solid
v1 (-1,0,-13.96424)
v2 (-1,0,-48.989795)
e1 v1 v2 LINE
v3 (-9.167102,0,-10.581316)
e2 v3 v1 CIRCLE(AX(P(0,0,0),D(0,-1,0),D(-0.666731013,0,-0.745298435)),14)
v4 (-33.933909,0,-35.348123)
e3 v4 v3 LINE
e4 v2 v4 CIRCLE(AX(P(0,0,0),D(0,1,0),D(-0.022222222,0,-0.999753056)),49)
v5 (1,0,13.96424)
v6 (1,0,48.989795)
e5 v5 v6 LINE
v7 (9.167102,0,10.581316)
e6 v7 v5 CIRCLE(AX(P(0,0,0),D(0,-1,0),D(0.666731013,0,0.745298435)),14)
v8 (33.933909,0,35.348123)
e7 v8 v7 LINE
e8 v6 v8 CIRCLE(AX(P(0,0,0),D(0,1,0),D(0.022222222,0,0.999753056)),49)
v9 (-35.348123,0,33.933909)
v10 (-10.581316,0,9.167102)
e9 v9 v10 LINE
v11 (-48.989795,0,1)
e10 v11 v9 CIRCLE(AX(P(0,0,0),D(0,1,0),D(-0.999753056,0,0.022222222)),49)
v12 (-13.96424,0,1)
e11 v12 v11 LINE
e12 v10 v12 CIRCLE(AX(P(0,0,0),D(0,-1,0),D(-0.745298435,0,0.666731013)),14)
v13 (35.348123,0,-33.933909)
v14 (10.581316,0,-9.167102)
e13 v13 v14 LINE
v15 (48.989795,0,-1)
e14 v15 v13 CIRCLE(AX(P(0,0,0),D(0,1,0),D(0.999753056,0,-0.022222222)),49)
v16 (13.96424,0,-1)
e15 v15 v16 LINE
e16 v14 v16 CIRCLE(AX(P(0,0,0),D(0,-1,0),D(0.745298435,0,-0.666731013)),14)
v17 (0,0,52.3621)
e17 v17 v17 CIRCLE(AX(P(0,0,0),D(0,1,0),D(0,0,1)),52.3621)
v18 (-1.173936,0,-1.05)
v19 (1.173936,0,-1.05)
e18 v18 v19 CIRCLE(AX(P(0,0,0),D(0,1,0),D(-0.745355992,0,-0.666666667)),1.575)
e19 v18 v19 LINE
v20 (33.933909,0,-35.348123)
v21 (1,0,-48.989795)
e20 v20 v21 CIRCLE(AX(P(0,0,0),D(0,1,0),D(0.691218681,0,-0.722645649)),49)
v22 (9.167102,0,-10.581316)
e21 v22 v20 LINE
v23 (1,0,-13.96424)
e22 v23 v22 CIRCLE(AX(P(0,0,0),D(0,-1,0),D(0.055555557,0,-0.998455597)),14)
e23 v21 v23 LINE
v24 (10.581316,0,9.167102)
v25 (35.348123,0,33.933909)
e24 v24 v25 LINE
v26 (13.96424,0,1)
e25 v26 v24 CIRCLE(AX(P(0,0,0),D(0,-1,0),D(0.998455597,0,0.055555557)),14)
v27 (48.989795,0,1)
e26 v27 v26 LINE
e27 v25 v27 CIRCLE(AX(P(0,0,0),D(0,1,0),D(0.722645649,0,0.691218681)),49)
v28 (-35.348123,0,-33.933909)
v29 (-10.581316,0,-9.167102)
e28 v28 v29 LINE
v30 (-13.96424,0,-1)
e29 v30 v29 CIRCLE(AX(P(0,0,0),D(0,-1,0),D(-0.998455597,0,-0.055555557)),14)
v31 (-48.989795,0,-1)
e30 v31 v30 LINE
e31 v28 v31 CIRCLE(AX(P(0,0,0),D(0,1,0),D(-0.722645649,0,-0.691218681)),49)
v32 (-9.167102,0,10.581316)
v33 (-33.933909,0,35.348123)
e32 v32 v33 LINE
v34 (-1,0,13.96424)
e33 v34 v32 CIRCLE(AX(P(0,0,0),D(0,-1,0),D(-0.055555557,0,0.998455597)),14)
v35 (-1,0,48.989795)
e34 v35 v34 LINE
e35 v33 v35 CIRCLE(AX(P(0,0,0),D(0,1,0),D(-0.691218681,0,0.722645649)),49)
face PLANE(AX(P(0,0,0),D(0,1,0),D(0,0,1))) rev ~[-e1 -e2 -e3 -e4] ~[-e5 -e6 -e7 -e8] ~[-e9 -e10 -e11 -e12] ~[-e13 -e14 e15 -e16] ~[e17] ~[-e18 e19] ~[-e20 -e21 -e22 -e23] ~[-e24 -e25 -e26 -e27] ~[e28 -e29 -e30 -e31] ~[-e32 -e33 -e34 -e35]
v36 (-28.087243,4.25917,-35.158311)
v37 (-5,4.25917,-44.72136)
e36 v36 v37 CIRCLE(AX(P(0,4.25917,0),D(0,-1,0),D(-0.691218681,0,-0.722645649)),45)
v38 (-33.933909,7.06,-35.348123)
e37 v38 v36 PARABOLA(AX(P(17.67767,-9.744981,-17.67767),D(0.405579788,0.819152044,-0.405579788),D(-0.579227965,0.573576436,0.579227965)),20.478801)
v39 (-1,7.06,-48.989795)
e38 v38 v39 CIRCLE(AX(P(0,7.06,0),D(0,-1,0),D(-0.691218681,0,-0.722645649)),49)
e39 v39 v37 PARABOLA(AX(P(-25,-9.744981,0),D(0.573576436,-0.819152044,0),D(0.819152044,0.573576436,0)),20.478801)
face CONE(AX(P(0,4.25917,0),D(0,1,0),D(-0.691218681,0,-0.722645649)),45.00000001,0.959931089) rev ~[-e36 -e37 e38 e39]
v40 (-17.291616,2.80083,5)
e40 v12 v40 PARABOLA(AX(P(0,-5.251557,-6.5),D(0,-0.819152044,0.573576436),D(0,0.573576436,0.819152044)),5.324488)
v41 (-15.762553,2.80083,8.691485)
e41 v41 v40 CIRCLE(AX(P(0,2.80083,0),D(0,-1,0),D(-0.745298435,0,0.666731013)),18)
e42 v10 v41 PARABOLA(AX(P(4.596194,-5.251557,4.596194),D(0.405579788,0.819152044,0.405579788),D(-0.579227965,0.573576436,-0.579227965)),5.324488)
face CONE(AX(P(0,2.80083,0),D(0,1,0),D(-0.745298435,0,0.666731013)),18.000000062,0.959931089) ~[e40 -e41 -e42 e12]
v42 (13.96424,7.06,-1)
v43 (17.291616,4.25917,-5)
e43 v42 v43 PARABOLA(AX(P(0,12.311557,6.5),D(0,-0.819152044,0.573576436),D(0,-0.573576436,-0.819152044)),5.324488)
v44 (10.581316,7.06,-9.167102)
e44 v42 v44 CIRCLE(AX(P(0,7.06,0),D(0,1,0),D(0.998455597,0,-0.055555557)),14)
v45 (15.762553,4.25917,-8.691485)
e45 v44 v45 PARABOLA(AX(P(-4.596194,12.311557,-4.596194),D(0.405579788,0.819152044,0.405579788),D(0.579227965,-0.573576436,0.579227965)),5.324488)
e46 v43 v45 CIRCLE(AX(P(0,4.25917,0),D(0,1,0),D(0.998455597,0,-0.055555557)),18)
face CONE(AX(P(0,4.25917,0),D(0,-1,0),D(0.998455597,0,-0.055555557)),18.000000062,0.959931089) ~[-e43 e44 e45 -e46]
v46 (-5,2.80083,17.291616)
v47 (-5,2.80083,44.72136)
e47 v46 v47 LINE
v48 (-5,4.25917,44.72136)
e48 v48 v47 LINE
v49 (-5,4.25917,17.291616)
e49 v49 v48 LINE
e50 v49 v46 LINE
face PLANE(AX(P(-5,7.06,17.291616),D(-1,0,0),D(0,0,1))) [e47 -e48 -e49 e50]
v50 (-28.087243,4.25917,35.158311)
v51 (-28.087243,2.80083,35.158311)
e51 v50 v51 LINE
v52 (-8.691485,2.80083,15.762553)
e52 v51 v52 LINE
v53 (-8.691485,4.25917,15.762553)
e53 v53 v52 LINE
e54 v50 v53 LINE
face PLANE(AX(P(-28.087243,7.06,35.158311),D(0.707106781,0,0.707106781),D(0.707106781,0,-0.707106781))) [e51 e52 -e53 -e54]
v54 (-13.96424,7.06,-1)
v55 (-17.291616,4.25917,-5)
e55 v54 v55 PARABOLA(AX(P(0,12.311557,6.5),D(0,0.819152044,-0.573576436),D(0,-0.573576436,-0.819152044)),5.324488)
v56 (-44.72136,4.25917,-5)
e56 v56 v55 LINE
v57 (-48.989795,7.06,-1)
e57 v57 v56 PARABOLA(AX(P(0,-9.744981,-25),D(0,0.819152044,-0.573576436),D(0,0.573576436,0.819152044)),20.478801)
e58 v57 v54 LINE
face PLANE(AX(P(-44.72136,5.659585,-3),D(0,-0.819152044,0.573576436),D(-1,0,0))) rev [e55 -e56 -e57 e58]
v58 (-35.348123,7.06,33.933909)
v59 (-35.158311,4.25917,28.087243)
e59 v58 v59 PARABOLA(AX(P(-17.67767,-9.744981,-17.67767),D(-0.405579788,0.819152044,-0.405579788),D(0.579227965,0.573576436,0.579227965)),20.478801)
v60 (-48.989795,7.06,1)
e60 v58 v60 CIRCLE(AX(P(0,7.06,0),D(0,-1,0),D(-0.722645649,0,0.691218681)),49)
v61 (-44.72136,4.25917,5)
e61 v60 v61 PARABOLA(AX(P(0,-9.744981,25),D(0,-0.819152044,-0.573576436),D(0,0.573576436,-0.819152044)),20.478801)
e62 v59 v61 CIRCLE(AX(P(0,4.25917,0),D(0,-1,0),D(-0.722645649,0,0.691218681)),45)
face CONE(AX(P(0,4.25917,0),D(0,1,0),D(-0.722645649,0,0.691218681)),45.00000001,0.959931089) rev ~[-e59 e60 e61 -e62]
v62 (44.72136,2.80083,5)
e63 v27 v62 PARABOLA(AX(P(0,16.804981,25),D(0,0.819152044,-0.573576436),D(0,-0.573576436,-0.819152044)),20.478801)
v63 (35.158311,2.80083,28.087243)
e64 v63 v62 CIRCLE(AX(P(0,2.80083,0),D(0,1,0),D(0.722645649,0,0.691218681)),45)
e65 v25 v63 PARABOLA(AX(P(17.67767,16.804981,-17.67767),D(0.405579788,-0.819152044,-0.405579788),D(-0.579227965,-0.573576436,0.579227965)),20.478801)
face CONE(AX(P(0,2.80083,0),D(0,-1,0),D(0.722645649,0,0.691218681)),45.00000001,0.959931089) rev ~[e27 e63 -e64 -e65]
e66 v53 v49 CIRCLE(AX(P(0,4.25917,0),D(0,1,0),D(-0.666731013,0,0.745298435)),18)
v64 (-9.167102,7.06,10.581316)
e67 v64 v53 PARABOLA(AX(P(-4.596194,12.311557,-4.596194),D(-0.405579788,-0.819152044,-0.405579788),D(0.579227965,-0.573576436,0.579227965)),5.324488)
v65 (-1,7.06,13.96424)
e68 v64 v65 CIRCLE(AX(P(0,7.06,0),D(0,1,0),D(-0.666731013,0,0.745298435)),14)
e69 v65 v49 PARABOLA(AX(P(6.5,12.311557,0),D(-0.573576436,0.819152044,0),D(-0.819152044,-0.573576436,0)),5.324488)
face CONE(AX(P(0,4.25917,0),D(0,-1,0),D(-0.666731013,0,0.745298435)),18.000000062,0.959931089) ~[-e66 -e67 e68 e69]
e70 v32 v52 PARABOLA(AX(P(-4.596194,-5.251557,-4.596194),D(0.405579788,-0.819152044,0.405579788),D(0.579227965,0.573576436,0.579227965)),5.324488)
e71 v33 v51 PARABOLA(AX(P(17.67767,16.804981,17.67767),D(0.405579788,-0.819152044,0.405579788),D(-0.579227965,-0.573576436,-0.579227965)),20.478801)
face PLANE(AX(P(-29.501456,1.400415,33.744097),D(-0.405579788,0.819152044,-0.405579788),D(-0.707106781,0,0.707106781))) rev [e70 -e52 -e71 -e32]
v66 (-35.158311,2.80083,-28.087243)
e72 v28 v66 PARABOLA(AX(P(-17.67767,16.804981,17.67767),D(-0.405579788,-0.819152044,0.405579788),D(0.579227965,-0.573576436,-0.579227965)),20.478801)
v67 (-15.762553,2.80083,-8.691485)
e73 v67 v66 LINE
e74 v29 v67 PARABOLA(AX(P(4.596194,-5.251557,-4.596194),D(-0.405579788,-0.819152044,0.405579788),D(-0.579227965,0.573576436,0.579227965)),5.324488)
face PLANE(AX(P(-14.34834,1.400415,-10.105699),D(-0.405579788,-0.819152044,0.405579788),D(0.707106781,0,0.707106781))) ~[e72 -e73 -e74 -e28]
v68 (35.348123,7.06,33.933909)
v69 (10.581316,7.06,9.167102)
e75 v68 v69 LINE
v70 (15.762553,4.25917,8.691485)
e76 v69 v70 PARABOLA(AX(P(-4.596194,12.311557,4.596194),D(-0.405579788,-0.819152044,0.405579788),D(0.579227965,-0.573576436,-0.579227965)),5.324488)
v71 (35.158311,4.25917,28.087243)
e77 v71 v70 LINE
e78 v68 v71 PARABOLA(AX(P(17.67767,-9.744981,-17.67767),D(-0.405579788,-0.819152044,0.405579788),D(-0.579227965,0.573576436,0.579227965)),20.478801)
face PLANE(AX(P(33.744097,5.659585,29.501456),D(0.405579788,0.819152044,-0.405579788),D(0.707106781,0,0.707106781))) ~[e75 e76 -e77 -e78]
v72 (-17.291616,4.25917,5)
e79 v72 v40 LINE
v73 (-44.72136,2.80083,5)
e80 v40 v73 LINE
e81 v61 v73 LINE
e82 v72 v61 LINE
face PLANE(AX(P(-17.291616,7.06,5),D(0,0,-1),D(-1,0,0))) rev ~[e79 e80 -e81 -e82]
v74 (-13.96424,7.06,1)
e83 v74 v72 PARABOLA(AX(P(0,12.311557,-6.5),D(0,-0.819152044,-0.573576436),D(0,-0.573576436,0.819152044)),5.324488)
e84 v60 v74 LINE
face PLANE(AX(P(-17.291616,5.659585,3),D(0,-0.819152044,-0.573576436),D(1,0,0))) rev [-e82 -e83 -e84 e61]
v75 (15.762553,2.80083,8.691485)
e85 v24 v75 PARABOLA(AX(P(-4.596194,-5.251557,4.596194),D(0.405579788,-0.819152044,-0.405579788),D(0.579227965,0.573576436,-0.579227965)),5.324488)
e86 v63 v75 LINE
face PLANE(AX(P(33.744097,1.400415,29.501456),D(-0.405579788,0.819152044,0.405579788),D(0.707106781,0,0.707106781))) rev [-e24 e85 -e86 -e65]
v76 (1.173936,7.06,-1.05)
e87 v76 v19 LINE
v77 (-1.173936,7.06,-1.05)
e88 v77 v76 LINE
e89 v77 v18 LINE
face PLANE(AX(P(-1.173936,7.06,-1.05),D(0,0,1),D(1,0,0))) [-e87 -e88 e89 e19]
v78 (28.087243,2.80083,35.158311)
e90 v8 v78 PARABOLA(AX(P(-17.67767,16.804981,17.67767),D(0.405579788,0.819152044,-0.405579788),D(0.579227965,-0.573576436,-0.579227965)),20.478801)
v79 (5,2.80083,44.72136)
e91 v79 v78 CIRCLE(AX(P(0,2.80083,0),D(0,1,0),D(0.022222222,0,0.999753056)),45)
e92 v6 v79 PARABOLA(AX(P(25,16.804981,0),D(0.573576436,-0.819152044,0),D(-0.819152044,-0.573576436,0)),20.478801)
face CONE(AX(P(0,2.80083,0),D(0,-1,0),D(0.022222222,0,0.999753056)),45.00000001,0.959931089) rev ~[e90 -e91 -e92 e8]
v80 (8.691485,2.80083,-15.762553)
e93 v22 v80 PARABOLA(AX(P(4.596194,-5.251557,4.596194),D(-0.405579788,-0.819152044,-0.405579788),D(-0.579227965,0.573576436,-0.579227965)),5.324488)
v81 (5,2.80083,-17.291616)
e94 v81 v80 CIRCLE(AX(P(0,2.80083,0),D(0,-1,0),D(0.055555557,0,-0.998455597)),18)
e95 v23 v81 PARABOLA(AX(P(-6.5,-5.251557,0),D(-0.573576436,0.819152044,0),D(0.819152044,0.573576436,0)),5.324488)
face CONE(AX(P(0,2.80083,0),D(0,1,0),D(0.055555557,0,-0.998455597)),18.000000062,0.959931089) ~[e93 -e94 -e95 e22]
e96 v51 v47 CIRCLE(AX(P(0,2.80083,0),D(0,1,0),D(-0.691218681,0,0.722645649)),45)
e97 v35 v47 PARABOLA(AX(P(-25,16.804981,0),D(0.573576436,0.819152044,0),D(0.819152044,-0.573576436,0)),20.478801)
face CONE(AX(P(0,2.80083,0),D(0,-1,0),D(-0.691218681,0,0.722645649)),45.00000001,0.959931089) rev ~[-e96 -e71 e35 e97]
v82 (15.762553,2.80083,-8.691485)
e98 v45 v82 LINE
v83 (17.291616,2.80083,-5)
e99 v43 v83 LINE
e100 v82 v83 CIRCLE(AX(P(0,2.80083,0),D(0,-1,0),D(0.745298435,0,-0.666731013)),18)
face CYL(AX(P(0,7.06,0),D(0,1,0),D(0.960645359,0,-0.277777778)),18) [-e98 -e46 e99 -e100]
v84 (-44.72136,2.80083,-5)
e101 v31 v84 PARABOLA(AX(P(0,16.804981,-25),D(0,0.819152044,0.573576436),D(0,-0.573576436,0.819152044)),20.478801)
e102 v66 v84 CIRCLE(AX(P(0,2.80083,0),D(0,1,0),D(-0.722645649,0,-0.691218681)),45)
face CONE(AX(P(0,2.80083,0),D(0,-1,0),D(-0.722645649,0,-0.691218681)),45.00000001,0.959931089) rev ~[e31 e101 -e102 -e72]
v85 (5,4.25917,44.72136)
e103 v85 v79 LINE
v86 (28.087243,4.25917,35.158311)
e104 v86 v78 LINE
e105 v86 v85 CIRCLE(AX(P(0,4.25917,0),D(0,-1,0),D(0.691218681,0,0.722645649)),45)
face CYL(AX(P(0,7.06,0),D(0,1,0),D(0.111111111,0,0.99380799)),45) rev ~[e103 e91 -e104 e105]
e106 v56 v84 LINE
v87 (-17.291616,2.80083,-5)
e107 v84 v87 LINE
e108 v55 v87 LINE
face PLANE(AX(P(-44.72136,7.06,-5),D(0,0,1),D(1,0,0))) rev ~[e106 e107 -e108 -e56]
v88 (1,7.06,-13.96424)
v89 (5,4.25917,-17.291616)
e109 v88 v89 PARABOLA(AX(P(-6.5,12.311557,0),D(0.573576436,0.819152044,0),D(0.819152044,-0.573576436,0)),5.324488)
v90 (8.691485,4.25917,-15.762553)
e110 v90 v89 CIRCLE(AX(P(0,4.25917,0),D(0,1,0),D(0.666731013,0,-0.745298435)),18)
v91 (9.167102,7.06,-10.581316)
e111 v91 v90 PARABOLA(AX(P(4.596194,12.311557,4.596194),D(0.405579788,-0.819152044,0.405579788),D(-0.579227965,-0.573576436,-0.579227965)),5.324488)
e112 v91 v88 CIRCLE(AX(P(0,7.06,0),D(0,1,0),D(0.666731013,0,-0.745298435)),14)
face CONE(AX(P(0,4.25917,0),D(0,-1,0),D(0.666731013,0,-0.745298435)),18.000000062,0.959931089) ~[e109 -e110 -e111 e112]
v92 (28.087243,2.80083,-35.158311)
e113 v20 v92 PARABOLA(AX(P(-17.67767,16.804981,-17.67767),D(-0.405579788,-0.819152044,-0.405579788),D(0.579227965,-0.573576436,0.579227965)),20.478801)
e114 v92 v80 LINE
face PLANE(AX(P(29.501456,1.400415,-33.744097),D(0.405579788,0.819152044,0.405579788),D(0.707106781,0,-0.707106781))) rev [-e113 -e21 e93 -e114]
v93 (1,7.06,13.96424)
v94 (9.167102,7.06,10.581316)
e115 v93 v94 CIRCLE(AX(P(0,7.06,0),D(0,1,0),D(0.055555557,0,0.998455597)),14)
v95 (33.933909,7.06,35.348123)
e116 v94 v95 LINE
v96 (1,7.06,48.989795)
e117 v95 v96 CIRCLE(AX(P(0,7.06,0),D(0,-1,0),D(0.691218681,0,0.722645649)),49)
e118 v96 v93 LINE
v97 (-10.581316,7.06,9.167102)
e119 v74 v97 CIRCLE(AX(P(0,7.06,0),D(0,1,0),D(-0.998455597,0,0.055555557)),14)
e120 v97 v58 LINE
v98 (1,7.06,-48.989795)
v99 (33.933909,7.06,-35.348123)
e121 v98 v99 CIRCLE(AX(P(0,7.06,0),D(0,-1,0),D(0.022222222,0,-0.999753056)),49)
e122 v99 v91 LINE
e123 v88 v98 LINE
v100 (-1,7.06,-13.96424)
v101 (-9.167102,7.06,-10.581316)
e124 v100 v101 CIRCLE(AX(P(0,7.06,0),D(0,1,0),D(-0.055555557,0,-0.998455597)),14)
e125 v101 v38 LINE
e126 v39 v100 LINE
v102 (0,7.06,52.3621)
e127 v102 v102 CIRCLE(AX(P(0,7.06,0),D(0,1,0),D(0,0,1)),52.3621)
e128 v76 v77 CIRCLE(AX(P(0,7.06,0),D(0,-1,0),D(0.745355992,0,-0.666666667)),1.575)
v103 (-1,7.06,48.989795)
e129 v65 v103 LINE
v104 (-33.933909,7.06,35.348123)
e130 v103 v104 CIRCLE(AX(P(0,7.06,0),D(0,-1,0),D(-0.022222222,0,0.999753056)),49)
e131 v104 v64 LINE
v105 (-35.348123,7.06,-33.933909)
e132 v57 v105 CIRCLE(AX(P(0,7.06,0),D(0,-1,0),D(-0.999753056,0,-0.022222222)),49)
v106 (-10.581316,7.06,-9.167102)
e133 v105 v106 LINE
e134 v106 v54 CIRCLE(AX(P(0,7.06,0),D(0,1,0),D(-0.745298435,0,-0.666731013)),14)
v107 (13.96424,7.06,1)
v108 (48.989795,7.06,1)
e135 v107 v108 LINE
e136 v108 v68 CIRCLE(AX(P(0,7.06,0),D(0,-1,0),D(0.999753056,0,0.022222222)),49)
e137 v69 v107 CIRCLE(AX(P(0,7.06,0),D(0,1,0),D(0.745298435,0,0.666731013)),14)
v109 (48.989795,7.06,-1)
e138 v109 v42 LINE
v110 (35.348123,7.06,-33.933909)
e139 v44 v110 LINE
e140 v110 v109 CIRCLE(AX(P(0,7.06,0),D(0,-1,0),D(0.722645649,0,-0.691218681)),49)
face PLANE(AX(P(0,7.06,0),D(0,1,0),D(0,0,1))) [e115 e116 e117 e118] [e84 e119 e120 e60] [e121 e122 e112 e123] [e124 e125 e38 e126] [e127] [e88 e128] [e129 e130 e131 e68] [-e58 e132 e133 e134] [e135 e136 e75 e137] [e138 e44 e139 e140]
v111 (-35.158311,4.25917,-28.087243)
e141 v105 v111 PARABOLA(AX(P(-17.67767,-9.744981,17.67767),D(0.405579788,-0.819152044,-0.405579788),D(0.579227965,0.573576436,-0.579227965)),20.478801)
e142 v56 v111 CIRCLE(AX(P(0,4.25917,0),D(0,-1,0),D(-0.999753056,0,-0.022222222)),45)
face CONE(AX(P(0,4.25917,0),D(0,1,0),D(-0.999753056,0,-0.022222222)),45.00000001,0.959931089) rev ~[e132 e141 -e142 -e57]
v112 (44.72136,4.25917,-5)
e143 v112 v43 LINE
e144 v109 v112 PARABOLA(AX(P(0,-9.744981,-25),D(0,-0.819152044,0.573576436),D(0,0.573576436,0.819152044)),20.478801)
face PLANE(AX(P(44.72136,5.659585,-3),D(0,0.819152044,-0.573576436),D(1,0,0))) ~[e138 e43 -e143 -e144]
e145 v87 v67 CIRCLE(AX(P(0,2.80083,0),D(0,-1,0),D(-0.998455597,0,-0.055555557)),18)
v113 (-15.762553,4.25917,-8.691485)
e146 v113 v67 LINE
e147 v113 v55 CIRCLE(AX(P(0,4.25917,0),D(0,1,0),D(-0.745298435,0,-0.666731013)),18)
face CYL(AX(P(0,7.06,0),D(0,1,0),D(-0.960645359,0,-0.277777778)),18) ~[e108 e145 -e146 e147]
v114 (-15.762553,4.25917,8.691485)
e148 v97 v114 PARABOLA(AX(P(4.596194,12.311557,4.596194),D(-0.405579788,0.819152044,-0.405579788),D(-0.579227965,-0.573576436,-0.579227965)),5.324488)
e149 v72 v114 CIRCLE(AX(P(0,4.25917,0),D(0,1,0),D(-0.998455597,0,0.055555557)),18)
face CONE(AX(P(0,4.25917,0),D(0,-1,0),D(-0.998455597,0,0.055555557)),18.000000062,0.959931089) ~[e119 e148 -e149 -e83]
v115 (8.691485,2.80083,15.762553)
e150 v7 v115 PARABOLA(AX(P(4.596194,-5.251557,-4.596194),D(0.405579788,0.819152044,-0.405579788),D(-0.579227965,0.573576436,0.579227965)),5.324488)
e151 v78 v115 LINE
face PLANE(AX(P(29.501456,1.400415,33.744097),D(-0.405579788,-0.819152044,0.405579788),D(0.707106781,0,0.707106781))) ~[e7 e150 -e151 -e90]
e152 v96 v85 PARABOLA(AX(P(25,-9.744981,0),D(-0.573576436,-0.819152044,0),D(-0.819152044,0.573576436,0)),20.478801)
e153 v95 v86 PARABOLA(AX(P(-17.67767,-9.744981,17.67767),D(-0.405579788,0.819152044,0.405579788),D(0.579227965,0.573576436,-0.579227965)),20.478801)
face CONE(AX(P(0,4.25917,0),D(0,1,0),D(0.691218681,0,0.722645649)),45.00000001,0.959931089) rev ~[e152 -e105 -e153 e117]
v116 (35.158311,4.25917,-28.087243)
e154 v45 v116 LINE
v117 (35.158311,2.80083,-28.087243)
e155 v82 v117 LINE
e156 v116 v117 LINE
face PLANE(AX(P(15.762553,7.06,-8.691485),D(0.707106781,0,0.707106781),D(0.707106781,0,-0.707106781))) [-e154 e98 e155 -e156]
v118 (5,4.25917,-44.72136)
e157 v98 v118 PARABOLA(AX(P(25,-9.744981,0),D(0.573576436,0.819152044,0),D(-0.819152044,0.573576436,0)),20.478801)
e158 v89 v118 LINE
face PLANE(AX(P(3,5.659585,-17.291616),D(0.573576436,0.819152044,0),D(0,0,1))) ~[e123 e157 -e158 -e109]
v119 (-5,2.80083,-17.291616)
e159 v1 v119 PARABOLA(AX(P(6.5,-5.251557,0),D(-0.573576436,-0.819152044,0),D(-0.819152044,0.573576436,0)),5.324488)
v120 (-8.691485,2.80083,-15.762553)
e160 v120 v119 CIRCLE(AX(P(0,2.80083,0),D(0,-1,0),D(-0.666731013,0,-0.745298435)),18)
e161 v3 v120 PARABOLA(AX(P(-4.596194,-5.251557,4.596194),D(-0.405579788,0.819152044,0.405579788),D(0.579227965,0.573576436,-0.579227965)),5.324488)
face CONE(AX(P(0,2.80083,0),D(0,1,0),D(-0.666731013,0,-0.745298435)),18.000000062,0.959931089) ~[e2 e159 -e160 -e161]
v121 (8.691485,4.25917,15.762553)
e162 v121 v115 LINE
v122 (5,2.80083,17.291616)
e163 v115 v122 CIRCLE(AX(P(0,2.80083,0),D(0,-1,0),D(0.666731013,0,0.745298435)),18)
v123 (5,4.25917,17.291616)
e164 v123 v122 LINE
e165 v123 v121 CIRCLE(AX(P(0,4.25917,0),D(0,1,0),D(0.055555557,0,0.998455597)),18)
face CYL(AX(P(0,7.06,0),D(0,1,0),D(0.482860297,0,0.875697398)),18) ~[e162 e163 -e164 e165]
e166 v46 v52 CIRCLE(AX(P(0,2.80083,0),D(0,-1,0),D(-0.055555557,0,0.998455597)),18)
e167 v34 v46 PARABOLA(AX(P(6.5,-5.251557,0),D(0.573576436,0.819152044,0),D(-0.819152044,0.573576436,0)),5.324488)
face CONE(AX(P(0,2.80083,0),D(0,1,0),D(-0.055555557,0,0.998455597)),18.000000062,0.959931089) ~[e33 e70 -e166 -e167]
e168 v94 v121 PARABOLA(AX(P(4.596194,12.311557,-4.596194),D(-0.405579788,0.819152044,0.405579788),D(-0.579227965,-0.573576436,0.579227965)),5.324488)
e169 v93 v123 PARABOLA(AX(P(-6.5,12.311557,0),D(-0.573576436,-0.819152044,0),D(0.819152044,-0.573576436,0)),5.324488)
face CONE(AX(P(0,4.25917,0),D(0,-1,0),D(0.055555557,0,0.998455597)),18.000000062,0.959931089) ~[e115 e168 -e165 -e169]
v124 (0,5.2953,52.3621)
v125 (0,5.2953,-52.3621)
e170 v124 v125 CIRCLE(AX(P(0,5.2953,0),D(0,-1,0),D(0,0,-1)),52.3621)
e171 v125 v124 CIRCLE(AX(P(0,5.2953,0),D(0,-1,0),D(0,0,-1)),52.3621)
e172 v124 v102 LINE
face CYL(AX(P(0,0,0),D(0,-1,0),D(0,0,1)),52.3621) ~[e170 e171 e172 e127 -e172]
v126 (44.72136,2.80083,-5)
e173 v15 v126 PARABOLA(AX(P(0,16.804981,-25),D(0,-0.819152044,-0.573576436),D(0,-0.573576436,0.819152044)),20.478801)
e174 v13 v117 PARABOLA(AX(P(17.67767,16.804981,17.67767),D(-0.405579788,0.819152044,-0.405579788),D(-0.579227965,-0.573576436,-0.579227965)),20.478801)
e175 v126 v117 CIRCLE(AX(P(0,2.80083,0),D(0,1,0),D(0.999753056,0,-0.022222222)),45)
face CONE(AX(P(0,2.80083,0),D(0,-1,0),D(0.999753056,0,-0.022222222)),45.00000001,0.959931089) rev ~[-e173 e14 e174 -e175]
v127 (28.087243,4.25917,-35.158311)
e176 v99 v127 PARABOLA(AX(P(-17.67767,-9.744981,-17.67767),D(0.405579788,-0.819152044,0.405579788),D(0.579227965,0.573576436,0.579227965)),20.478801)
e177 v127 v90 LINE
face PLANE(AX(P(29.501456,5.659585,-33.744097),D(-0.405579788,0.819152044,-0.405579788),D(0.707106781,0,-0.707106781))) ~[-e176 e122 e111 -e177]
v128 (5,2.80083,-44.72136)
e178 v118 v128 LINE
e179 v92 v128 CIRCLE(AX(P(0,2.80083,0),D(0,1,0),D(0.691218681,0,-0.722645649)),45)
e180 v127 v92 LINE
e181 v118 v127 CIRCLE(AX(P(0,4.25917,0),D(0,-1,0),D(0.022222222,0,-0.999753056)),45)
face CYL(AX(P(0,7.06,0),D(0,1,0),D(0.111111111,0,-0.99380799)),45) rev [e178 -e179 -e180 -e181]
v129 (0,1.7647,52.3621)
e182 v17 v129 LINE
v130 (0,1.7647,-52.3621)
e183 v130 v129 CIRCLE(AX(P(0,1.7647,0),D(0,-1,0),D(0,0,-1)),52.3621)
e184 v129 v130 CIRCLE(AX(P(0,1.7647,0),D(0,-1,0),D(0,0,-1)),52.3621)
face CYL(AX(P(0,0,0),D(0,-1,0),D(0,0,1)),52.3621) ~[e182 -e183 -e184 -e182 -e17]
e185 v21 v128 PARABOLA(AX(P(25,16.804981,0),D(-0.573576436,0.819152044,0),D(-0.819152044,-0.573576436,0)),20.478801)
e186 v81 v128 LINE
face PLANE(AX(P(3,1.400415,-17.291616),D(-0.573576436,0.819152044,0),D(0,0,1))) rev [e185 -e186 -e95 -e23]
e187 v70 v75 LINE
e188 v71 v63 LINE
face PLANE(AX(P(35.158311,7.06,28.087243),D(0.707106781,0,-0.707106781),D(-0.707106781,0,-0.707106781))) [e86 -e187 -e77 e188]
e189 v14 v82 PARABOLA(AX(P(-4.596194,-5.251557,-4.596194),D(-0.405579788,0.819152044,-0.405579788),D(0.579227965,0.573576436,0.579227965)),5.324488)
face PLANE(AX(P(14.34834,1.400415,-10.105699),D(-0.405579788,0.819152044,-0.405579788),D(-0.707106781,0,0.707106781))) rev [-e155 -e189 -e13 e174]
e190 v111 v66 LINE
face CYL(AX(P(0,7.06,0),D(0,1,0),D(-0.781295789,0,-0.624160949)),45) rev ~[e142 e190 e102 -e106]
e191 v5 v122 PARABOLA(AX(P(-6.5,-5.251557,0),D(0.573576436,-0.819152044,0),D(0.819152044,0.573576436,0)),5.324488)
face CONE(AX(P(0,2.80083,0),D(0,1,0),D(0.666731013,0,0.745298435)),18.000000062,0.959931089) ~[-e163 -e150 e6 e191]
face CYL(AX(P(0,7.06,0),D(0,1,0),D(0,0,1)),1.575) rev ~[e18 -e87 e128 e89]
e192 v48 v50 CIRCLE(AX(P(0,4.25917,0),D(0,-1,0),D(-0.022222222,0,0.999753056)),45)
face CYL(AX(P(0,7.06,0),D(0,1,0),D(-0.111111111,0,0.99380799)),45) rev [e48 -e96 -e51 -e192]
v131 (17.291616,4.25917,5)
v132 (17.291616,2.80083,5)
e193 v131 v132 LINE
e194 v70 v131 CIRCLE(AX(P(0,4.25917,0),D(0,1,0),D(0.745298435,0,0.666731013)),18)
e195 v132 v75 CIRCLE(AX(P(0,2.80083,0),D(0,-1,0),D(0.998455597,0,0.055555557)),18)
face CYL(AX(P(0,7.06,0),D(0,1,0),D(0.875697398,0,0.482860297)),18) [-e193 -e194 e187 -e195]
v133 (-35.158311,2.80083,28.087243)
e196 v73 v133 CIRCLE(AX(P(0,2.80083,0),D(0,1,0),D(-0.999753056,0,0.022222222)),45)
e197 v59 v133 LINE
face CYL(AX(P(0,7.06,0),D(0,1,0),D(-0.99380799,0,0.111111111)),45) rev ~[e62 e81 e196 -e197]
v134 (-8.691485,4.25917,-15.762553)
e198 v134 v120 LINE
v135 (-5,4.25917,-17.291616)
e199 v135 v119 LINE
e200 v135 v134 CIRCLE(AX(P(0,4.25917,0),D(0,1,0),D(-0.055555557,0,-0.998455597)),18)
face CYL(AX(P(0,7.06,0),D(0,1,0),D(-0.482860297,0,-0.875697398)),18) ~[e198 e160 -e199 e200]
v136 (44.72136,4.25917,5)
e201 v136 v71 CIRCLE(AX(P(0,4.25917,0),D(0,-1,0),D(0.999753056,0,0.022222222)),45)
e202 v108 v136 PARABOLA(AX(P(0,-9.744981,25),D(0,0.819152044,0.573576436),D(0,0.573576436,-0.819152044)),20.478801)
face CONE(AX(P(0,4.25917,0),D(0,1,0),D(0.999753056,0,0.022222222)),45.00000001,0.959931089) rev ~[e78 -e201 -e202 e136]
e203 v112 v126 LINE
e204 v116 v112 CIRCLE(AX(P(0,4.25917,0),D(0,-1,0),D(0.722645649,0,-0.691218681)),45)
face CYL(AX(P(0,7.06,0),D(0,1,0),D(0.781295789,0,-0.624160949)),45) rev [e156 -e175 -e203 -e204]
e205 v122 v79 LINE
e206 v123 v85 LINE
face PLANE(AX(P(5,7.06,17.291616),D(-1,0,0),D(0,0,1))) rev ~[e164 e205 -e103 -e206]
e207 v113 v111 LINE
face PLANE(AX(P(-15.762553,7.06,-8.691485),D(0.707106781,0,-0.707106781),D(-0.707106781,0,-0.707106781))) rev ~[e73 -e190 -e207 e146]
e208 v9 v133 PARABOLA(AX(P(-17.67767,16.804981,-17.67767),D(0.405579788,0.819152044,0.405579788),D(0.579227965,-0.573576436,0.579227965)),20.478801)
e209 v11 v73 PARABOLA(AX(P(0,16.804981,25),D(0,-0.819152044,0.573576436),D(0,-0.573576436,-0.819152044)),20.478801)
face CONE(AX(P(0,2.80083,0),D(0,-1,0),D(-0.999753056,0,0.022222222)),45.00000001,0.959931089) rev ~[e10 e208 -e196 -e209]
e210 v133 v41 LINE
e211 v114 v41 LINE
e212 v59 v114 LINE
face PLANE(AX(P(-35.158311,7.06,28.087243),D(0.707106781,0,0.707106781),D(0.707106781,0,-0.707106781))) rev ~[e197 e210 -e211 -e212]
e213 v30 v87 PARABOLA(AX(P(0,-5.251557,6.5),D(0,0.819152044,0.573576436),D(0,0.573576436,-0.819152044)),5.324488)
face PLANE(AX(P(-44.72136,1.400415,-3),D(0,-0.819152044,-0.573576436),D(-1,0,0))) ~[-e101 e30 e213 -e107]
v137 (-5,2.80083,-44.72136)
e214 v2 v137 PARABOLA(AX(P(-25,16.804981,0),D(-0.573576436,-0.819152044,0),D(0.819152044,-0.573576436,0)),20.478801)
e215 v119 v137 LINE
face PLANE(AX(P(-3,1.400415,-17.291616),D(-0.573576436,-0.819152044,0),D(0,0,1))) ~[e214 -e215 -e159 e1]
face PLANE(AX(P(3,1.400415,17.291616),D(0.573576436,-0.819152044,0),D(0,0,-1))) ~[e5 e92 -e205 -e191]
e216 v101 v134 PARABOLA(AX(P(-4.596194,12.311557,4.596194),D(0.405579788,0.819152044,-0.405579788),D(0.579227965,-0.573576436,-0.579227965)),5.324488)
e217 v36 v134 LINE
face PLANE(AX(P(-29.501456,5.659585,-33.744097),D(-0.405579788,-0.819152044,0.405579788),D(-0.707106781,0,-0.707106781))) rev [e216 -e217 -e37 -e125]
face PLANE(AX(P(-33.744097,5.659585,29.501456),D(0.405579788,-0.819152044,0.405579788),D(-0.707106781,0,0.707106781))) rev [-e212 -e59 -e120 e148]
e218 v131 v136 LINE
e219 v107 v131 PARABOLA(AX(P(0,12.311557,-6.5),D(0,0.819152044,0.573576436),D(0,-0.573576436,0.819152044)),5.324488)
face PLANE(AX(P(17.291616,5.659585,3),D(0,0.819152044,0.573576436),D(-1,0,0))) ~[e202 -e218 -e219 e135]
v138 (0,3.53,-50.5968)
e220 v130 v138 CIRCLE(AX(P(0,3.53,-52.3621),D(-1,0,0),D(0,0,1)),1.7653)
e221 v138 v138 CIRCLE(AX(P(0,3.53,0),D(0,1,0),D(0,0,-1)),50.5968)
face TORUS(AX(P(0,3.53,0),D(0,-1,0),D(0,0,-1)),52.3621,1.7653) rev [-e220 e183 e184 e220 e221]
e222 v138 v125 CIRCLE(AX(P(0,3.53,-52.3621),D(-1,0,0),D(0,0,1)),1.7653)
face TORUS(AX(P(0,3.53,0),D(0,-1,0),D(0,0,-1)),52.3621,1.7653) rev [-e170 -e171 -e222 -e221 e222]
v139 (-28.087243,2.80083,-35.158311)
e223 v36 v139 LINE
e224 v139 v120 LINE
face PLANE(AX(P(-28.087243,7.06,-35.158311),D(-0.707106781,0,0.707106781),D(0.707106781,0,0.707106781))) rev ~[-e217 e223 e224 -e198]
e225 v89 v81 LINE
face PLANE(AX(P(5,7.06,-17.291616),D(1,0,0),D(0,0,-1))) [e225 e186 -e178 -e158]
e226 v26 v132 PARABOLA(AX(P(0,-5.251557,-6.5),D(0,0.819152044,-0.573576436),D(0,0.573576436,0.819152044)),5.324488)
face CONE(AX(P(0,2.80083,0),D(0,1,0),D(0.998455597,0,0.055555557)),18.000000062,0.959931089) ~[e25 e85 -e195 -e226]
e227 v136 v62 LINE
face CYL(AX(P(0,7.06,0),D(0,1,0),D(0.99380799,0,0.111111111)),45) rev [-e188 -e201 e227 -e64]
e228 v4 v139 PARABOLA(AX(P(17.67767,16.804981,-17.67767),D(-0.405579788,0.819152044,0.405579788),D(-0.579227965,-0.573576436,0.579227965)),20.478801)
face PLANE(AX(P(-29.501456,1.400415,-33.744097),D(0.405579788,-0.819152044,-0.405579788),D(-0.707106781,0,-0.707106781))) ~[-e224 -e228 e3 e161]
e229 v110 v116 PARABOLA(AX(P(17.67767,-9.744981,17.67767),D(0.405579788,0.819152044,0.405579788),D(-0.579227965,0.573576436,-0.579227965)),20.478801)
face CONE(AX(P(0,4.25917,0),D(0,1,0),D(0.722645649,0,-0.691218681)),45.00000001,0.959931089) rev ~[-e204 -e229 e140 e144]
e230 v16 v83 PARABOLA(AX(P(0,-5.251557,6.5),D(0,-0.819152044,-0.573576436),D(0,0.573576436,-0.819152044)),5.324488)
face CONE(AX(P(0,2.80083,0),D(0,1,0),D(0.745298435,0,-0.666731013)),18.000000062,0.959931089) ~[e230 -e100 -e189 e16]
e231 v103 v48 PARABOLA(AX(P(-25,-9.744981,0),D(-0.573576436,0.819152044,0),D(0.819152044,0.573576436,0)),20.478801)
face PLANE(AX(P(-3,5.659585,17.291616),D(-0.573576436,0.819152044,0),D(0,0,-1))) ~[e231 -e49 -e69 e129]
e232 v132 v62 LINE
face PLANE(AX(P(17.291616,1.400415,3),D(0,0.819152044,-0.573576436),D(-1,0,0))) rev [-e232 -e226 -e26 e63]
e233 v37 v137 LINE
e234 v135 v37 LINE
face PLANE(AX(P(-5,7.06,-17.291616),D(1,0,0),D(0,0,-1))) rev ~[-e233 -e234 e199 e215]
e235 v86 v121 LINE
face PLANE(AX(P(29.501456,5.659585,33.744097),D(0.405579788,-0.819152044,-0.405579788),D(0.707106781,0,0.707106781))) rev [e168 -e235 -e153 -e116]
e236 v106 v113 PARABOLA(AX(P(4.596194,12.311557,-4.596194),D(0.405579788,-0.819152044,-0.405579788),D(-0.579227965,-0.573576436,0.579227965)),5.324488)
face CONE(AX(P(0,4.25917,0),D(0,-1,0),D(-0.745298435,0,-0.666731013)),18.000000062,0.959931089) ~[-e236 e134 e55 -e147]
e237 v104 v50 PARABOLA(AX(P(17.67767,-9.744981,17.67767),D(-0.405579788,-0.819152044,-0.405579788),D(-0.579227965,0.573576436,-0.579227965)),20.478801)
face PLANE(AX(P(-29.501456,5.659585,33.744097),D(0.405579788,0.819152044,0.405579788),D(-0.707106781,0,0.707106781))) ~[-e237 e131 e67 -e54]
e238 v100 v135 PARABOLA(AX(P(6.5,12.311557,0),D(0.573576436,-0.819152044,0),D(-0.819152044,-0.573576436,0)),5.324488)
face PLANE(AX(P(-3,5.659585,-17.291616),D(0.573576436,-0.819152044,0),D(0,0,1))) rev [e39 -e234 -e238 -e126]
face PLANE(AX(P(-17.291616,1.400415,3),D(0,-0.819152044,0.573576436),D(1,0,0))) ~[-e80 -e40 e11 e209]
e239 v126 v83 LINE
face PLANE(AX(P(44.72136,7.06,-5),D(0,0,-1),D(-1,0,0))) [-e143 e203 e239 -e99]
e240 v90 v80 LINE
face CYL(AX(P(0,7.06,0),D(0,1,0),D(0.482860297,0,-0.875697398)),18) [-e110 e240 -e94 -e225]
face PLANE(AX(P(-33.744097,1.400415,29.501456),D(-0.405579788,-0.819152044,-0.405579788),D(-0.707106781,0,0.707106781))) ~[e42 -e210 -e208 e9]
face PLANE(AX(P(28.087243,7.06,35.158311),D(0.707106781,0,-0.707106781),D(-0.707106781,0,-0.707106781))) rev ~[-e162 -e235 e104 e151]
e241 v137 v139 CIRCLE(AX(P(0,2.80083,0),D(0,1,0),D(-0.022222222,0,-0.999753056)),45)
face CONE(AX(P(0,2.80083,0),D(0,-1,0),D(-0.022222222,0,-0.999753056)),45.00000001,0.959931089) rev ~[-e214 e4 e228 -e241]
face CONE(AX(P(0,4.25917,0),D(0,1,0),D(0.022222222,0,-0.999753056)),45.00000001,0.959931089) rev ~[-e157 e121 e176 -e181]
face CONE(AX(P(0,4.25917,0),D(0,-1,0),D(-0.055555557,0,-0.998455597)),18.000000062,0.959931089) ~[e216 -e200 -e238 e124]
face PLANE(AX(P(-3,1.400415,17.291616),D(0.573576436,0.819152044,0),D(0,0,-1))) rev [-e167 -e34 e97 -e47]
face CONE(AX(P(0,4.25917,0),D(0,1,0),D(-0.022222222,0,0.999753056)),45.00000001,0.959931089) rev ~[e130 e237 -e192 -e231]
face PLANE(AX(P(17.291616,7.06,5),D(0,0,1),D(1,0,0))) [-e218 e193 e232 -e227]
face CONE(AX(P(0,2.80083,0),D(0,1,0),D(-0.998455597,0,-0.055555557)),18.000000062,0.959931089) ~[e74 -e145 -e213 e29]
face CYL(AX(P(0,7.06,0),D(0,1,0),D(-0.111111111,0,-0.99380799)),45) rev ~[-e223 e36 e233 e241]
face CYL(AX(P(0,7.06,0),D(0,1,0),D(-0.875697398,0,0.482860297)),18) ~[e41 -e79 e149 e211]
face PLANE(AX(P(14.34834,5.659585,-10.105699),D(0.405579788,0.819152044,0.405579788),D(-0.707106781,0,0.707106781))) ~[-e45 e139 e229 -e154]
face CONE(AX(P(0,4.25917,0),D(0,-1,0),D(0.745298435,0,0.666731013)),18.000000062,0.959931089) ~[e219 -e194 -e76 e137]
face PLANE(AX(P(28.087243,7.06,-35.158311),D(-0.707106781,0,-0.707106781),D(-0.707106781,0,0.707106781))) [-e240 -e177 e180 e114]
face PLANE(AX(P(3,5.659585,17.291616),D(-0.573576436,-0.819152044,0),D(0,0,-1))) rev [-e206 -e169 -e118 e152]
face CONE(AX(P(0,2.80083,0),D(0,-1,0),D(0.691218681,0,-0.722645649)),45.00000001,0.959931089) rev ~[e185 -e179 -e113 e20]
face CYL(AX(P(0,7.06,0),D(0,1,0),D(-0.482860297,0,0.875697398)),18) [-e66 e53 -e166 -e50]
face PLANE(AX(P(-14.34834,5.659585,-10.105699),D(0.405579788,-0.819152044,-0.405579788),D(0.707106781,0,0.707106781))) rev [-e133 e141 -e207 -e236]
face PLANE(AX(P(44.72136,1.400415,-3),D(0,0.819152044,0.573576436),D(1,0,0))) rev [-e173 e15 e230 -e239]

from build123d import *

# Parameters (mm, degrees)
SKETCH1_R           = 52.3621
BOSS_EXTRUDE1_DEPTH = 7.06
SKETCH4_R           = 1.7653
SKETCH6_R           = 1.575
CUT_EXTRUDE1_DEPTH  = 7.06
BOSS_EXTRUDE2_DEPTH = 7.06
CUT_EXTRUDE3_DEPTH  = 7.06
CHAMFER17_SIZE      = 4
CHAMFER17_SIZE2     = 2.800830153
CHAMFER18_SIZE      = 4
CHAMFER18_SIZE2     = 2.800830153
CHAMFER19_SIZE      = 4
CHAMFER19_SIZE2     = 2.800830153
CHAMFER20_SIZE      = 4
CHAMFER20_SIZE2     = 2.800830153
CHAMFER21_SIZE      = 4
CHAMFER21_SIZE2     = 2.800830153
CHAMFER25_SIZE      = 4
CHAMFER25_SIZE2     = 2.800830153
CHAMFER26_SIZE      = 4
CHAMFER26_SIZE2     = 2.800830153
CHAMFER39_SIZE      = 4
CHAMFER39_SIZE2     = 2.800830153
CHAMFER40_SIZE      = 4
CHAMFER40_SIZE2     = 2.800830153
CHAMFER42_SIZE      = 4
CHAMFER42_SIZE2     = 2.800830153
CHAMFER43_SIZE      = 4
CHAMFER43_SIZE2     = 2.800830153
CHAMFER44_SIZE      = 4
CHAMFER44_SIZE2     = 2.800830153
CHAMFER45_SIZE      = 4
CHAMFER45_SIZE2     = 2.800830153
CHAMFER46_SIZE      = 4
CHAMFER46_SIZE2     = 2.800830153


with BuildPart() as part:
    # Sketch1 → Boss-Extrude1 (new body)
    with BuildSketch(Plane(origin=(0, 0, 0), x_dir=(1, 0, 0), z_dir=(0, 1, 0))):
        with Locations(Location((0, 0, 0), (0, 0, 270))):
            Circle(SKETCH1_R)
    extrude(amount=BOSS_EXTRUDE1_DEPTH)

    # Sketch4 → Cut-Revolve2 (revolve, cut)
    with BuildSketch(Plane(origin=(0, 0, 0), x_dir=(0, 0, -1), z_dir=(1, 0, 0)), mode=Mode.PRIVATE) as cut_revolve2_sk:
        with Locations((-52.3621, 3.53)):
            Circle(SKETCH4_R)
    revolve(cut_revolve2_sk.sketch.rotate(Axis((0, 3.53, 0), (0, 1, 0)), 180), axis=Axis((0, 3.53, 0), (0, 1, 0)), mode=Mode.SUBTRACT)

    # Sketch6 → Cut-Extrude1 (cut)
    with BuildSketch(Plane(origin=(0, 7.06, 0), x_dir=(1, 0, 0), z_dir=(0, 1, 0))):
        with Locations(Location((0, 0, 0), (0, 0, 270))):
            Circle(SKETCH6_R)
    extrude(amount=-CUT_EXTRUDE1_DEPTH, mode=Mode.SUBTRACT)

    # Sketch7 → Boss-Extrude2 (add)
    with BuildSketch(Plane(origin=(0, 7.06, 0), x_dir=(1, 0, 0), z_dir=(0, 1, 0))):
        with BuildLine():
            Line((-1.173935688, 1.05), (1.173935688, 1.05))
            ThreePointArc((1.173935688, 1.05), (0, 1.575), (-1.173935688, 1.05))
        make_face()
    extrude(amount=-BOSS_EXTRUDE2_DEPTH)

    # Sketch8 → Cut-Extrude3 (cut)
    with BuildSketch(Plane(origin=(0, 7.06, 0), x_dir=(1, 0, 0), z_dir=(0, 1, 0))):
        with BuildLine():
            Line((-44.72135955, 5), (-17.291616466, 5))
            ThreePointArc((-17.291616466, 5), (-16.629831585, 6.888301783), (-15.762553167, 8.691485355))
            Line((-15.762553167, 8.691485355), (-35.158310508, 28.087242696))
            ThreePointArc((-35.158310508, 28.087242696), (-41.574578963, 17.220754456), (-44.72135955, 5))
        make_face()
        with BuildLine():
            Line((-17.291616466, -5), (-44.72135955, -5))
            ThreePointArc((-44.72135955, -5), (-41.574578963, -17.220754456), (-35.158310508, -28.087242696))
            Line((-35.158310508, -28.087242696), (-15.762553167, -8.691485355))
            ThreePointArc((-15.762553167, -8.691485355), (-16.629831585, -6.888301783), (-17.291616466, -5))
        make_face()
        with BuildLine():
            Line((17.291616466, -5), (44.72135955, -5))
            ThreePointArc((44.72135955, -5), (41.574578963, -17.220754456), (35.158310508, -28.087242696))
            Line((35.158310508, -28.087242696), (15.762553167, -8.691485355))
            ThreePointArc((15.762553167, -8.691485355), (16.629831585, -6.888301783), (17.291616466, -5))
        make_face()
        with BuildLine():
            Line((15.762553167, 8.691485355), (35.158310508, 28.087242696))
            ThreePointArc((35.158310508, 28.087242696), (41.574578963, 17.220754456), (44.72135955, 5))
            Line((44.72135955, 5), (17.291616466, 5))
            ThreePointArc((17.291616466, 5), (16.629831585, 6.888301783), (15.762553167, 8.691485355))
        make_face()
        with BuildLine():
            Line((-28.087242696, 35.158310508), (-8.691485355, 15.762553167))
            ThreePointArc((-8.691485355, 15.762553167), (-6.888301783, 16.629831585), (-5, 17.291616466))
            Line((-5, 17.291616466), (-5, 44.72135955))
            ThreePointArc((-5, 44.72135955), (-17.220754456, 41.574578963), (-28.087242696, 35.158310508))
        make_face()
        with BuildLine():
            Line((5, 17.291616466), (5, 44.72135955))
            ThreePointArc((5, 44.72135955), (17.220754456, 41.574578963), (28.087242696, 35.158310508))
            Line((28.087242696, 35.158310508), (8.691485355, 15.762553167))
            ThreePointArc((8.691485355, 15.762553167), (6.888301783, 16.629831585), (5, 17.291616466))
        make_face()
        with BuildLine():
            Line((-28.087242696, -35.158310508), (-8.691485355, -15.762553167))
            ThreePointArc((-8.691485355, -15.762553167), (-6.888301783, -16.629831585), (-5, -17.291616466))
            Line((-5, -17.291616466), (-5, -44.72135955))
            ThreePointArc((-5, -44.72135955), (-17.220754456, -41.574578963), (-28.087242696, -35.158310508))
        make_face()
        with BuildLine():
            Line((5, -17.291616466), (5, -44.72135955))
            ThreePointArc((5, -44.72135955), (17.220754456, -41.574578963), (28.087242696, -35.158310508))
            Line((28.087242696, -35.158310508), (8.691485355, -15.762553167))
            ThreePointArc((8.691485355, -15.762553167), (6.888301783, -16.629831585), (5, -17.291616466))
        make_face()
    extrude(amount=-CUT_EXTRUDE3_DEPTH, mode=Mode.SUBTRACT)

    # Chamfer17
    chamfer17_edges = [part.edges().sort_by_distance(p)[0] for p in [
        (-18.389364025, 7.06, -25.460431837),
        (-25.460431837, 7.06, -18.389364025),
    ]]
    chamfer17_side = [part.faces().sort_by_distance(p)[0] for p in [
        (0, 7.06, -50.881076161),
    ]]
    chamfer(chamfer17_edges, length=CHAMFER17_SIZE, length2=CHAMFER17_SIZE2, reference=chamfer17_side[0])

    # Chamfer18
    chamfer18_edges = [part.edges().sort_by_distance(p)[0] for p in [
        (-18.389364025, 0, -25.460431837),
    ]]
    chamfer18_side = [part.faces().sort_by_distance(p)[0] for p in [
        (0, 0, -50.881076161),
    ]]
    chamfer(chamfer18_edges, length=CHAMFER18_SIZE, length2=CHAMFER18_SIZE2, reference=chamfer18_side[0])

    # Chamfer19
    chamfer19_edges = [part.edges().sort_by_distance(p)[0] for p in [
        (-25.460431837, 0, -18.389364025),
    ]]
    chamfer19_side = [part.faces().sort_by_distance(p)[0] for p in [
        (-19.682698274, 0, -42.107920464),
    ]]
    chamfer(chamfer19_edges, length=CHAMFER19_SIZE, length2=CHAMFER19_SIZE2, reference=chamfer19_side[0])

    # Chamfer20
    chamfer20_edges = [part.edges().sort_by_distance(p)[0] for p in [
        (-31.006488008, 7.06, -5),
        (-31.006488008, 7.06, 5),
    ]]
    chamfer20_side = [part.faces().sort_by_distance(p)[0] for p in [
        (-19.682698274, 7.06, -42.107920464),
    ]]
    chamfer(chamfer20_edges, length=CHAMFER20_SIZE, length2=CHAMFER20_SIZE2, reference=chamfer20_side[0])

    # Chamfer21
    chamfer21_edges = [part.edges().sort_by_distance(p)[0] for p in [
        (18.389364025, 7.06, -25.460431837),
        (5, 7.06, -31.006488008),
        (-5, 7.06, -31.006488008),
        (-25.460431837, 7.06, 18.389364025),
        (31.006488008, 7.06, -5),
        (25.460431837, 7.06, -18.389364025),
        (25.460431837, 7.06, 18.389364025),
        (31.006488008, 7.06, 5),
        (-18.389364025, 7.06, 25.460431837),
        (-5, 7.06, 31.006488008),
        (5, 7.06, 31.006488008),
        (18.389364025, 7.06, 25.460431837),
    ]]
    chamfer21_side = [part.faces().sort_by_distance(p)[0] for p in [
        (2.323352496, 7.06, 0.962148374),
    ]]
    chamfer(chamfer21_edges, length=CHAMFER21_SIZE, length2=CHAMFER21_SIZE2, reference=chamfer21_side[0])

    # Chamfer25
    chamfer25_edges = [part.edges().sort_by_distance(p)[0] for p in [
        (5, 0, -31.006488008),
        (-5, 0, -31.006488008),
    ]]
    chamfer25_side = [part.faces().sort_by_distance(p)[0] for p in [
        (-14.451812174, 0, -8.001356027),
    ]]
    chamfer(chamfer25_edges, length=CHAMFER25_SIZE, length2=CHAMFER25_SIZE2, reference=chamfer25_side[0])

    # Chamfer26
    chamfer26_edges = [part.edges().sort_by_distance(p)[0] for p in [
        (18.389364025, 0, -25.460431837),
        (25.460431837, 0, -18.389364025),
        (31.006488008, 0, -5),
        (31.006488008, 0, 5),
        (25.460431837, 0, 18.389364025),
        (18.389364025, 0, 25.460431837),
    ]]
    chamfer26_side = [part.faces().sort_by_distance(p)[0] for p in [
        (0.962364114, 0, 2.323136756),
    ]]
    chamfer(chamfer26_edges, length=CHAMFER26_SIZE, length2=CHAMFER26_SIZE2, reference=chamfer26_side[0])

    # Chamfer39
    chamfer39_edges = [part.edges().sort_by_distance(p)[0] for p in [
        (16.629831585, 0, 6.888301783),
    ]]
    chamfer39_side = [part.faces().sort_by_distance(p)[0] for p in [
        (-2.671933538, 0, 2.671685429),
    ]]
    chamfer(chamfer39_edges, length=CHAMFER39_SIZE, length2=CHAMFER39_SIZE2, reference=chamfer39_side[0])

    # Chamfer40
    chamfer40_edges = [part.edges().sort_by_distance(p)[0] for p in [
        (16.629831585, 0, -6.888301783),
        (6.888301783, 0, -16.629831585),
        (-6.888301783, 0, -16.629831585),
        (-31.006488008, 0, -5),
        (-31.006488008, 0, 5),
        (-25.460431837, 0, 18.389364025),
        (-18.389364025, 0, 25.460431837),
        (-5, 0, 31.006488008),
        (5, 0, 31.006488008),
    ]]
    chamfer40_side = [part.faces().sort_by_distance(p)[0] for p in [
        (-2.841532186, 0, 2.638527927),
    ]]
    chamfer(chamfer40_edges, length=CHAMFER40_SIZE, length2=CHAMFER40_SIZE2, reference=chamfer40_side[0])

    # Chamfer42
    chamfer42_edges = [part.edges().sort_by_distance(p)[0] for p in [
        (-16.629831585, 0, -6.888301783),
        (-16.629831585, 0, 6.888301783),
        (-6.888301783, 0, 16.629831585),
        (6.888301783, 0, 16.629831585),
    ]]
    chamfer42_side = [part.faces().sort_by_distance(p)[0] for p in [
        (20.502942916, 0, -21.183213354),
    ]]
    chamfer(chamfer42_edges, length=CHAMFER42_SIZE, length2=CHAMFER42_SIZE2, reference=chamfer42_side[0])

    # Chamfer43
    chamfer43_edges = [part.edges().sort_by_distance(p)[0] for p in [
        (-6.888301783, 7.06, -16.629831585),
        (6.888301783, 7.06, -16.629831585),
        (16.629831585, 7.06, -6.888301783),
        (16.629831585, 7.06, 6.888301783),
        (6.888301783, 7.06, 16.629831585),
        (-6.888301783, 7.06, 16.629831585),
        (-16.629831585, 7.06, 6.888301783),
        (-16.629831585, 7.06, -6.888301783),
    ]]
    chamfer43_side = [part.faces().sort_by_distance(p)[0] for p in [
        (22.600241453, 7.06, -21.919971015),
    ]]
    chamfer(chamfer43_edges, length=CHAMFER43_SIZE, length2=CHAMFER43_SIZE2, reference=chamfer43_side[0])

    # Chamfer44
    chamfer44_edges = [part.edges().sort_by_distance(p)[0] for p in [
        (41.574578963, 0, -17.220754456),
    ]]
    chamfer44_side = [part.faces().sort_by_distance(p)[0] for p in [
        (-29.47656378, 0, 0.481023839),
    ]]
    chamfer(chamfer44_edges, length=CHAMFER44_SIZE, length2=CHAMFER44_SIZE2, reference=chamfer44_side[0])

    # Chamfer45
    chamfer45_edges = [part.edges().sort_by_distance(p)[0] for p in [
        (17.220754456, 0, -41.574578963),
        (-17.220754456, 0, -41.574578963),
        (-41.574578963, 0, -17.220754456),
        (-41.574578963, 0, 17.220754456),
        (-17.220754456, 0, 41.574578963),
        (17.220754456, 0, 41.574578963),
        (41.574578963, 0, 17.220754456),
    ]]
    chamfer45_side = [part.faces().sort_by_distance(p)[0] for p in [
        (-1.843064588, 0, 0.763087098),
    ]]
    chamfer(chamfer45_edges, length=CHAMFER45_SIZE, length2=CHAMFER45_SIZE2, reference=chamfer45_side[0])

    # Chamfer46
    chamfer46_edges = [part.edges().sort_by_distance(p)[0] for p in [
        (-41.574578963, 7.06, 17.220754456),
        (-17.220754456, 7.06, 41.574578963),
        (17.220754456, 7.06, 41.574578963),
        (41.574578963, 7.06, 17.220754456),
        (41.574578963, 7.06, -17.220754456),
        (17.220754456, 7.06, -41.574578963),
        (-17.220754456, 7.06, -41.574578963),
        (-41.574578963, 7.06, -17.220754456),
    ]]
    chamfer46_side = [part.faces().sort_by_distance(p)[0] for p in [
        (0.481023839, 7.06, -29.47656378),
    ]]
    chamfer(chamfer46_edges, length=CHAMFER46_SIZE, length2=CHAMFER46_SIZE2, reference=chamfer46_side[0])


solid = part.part
